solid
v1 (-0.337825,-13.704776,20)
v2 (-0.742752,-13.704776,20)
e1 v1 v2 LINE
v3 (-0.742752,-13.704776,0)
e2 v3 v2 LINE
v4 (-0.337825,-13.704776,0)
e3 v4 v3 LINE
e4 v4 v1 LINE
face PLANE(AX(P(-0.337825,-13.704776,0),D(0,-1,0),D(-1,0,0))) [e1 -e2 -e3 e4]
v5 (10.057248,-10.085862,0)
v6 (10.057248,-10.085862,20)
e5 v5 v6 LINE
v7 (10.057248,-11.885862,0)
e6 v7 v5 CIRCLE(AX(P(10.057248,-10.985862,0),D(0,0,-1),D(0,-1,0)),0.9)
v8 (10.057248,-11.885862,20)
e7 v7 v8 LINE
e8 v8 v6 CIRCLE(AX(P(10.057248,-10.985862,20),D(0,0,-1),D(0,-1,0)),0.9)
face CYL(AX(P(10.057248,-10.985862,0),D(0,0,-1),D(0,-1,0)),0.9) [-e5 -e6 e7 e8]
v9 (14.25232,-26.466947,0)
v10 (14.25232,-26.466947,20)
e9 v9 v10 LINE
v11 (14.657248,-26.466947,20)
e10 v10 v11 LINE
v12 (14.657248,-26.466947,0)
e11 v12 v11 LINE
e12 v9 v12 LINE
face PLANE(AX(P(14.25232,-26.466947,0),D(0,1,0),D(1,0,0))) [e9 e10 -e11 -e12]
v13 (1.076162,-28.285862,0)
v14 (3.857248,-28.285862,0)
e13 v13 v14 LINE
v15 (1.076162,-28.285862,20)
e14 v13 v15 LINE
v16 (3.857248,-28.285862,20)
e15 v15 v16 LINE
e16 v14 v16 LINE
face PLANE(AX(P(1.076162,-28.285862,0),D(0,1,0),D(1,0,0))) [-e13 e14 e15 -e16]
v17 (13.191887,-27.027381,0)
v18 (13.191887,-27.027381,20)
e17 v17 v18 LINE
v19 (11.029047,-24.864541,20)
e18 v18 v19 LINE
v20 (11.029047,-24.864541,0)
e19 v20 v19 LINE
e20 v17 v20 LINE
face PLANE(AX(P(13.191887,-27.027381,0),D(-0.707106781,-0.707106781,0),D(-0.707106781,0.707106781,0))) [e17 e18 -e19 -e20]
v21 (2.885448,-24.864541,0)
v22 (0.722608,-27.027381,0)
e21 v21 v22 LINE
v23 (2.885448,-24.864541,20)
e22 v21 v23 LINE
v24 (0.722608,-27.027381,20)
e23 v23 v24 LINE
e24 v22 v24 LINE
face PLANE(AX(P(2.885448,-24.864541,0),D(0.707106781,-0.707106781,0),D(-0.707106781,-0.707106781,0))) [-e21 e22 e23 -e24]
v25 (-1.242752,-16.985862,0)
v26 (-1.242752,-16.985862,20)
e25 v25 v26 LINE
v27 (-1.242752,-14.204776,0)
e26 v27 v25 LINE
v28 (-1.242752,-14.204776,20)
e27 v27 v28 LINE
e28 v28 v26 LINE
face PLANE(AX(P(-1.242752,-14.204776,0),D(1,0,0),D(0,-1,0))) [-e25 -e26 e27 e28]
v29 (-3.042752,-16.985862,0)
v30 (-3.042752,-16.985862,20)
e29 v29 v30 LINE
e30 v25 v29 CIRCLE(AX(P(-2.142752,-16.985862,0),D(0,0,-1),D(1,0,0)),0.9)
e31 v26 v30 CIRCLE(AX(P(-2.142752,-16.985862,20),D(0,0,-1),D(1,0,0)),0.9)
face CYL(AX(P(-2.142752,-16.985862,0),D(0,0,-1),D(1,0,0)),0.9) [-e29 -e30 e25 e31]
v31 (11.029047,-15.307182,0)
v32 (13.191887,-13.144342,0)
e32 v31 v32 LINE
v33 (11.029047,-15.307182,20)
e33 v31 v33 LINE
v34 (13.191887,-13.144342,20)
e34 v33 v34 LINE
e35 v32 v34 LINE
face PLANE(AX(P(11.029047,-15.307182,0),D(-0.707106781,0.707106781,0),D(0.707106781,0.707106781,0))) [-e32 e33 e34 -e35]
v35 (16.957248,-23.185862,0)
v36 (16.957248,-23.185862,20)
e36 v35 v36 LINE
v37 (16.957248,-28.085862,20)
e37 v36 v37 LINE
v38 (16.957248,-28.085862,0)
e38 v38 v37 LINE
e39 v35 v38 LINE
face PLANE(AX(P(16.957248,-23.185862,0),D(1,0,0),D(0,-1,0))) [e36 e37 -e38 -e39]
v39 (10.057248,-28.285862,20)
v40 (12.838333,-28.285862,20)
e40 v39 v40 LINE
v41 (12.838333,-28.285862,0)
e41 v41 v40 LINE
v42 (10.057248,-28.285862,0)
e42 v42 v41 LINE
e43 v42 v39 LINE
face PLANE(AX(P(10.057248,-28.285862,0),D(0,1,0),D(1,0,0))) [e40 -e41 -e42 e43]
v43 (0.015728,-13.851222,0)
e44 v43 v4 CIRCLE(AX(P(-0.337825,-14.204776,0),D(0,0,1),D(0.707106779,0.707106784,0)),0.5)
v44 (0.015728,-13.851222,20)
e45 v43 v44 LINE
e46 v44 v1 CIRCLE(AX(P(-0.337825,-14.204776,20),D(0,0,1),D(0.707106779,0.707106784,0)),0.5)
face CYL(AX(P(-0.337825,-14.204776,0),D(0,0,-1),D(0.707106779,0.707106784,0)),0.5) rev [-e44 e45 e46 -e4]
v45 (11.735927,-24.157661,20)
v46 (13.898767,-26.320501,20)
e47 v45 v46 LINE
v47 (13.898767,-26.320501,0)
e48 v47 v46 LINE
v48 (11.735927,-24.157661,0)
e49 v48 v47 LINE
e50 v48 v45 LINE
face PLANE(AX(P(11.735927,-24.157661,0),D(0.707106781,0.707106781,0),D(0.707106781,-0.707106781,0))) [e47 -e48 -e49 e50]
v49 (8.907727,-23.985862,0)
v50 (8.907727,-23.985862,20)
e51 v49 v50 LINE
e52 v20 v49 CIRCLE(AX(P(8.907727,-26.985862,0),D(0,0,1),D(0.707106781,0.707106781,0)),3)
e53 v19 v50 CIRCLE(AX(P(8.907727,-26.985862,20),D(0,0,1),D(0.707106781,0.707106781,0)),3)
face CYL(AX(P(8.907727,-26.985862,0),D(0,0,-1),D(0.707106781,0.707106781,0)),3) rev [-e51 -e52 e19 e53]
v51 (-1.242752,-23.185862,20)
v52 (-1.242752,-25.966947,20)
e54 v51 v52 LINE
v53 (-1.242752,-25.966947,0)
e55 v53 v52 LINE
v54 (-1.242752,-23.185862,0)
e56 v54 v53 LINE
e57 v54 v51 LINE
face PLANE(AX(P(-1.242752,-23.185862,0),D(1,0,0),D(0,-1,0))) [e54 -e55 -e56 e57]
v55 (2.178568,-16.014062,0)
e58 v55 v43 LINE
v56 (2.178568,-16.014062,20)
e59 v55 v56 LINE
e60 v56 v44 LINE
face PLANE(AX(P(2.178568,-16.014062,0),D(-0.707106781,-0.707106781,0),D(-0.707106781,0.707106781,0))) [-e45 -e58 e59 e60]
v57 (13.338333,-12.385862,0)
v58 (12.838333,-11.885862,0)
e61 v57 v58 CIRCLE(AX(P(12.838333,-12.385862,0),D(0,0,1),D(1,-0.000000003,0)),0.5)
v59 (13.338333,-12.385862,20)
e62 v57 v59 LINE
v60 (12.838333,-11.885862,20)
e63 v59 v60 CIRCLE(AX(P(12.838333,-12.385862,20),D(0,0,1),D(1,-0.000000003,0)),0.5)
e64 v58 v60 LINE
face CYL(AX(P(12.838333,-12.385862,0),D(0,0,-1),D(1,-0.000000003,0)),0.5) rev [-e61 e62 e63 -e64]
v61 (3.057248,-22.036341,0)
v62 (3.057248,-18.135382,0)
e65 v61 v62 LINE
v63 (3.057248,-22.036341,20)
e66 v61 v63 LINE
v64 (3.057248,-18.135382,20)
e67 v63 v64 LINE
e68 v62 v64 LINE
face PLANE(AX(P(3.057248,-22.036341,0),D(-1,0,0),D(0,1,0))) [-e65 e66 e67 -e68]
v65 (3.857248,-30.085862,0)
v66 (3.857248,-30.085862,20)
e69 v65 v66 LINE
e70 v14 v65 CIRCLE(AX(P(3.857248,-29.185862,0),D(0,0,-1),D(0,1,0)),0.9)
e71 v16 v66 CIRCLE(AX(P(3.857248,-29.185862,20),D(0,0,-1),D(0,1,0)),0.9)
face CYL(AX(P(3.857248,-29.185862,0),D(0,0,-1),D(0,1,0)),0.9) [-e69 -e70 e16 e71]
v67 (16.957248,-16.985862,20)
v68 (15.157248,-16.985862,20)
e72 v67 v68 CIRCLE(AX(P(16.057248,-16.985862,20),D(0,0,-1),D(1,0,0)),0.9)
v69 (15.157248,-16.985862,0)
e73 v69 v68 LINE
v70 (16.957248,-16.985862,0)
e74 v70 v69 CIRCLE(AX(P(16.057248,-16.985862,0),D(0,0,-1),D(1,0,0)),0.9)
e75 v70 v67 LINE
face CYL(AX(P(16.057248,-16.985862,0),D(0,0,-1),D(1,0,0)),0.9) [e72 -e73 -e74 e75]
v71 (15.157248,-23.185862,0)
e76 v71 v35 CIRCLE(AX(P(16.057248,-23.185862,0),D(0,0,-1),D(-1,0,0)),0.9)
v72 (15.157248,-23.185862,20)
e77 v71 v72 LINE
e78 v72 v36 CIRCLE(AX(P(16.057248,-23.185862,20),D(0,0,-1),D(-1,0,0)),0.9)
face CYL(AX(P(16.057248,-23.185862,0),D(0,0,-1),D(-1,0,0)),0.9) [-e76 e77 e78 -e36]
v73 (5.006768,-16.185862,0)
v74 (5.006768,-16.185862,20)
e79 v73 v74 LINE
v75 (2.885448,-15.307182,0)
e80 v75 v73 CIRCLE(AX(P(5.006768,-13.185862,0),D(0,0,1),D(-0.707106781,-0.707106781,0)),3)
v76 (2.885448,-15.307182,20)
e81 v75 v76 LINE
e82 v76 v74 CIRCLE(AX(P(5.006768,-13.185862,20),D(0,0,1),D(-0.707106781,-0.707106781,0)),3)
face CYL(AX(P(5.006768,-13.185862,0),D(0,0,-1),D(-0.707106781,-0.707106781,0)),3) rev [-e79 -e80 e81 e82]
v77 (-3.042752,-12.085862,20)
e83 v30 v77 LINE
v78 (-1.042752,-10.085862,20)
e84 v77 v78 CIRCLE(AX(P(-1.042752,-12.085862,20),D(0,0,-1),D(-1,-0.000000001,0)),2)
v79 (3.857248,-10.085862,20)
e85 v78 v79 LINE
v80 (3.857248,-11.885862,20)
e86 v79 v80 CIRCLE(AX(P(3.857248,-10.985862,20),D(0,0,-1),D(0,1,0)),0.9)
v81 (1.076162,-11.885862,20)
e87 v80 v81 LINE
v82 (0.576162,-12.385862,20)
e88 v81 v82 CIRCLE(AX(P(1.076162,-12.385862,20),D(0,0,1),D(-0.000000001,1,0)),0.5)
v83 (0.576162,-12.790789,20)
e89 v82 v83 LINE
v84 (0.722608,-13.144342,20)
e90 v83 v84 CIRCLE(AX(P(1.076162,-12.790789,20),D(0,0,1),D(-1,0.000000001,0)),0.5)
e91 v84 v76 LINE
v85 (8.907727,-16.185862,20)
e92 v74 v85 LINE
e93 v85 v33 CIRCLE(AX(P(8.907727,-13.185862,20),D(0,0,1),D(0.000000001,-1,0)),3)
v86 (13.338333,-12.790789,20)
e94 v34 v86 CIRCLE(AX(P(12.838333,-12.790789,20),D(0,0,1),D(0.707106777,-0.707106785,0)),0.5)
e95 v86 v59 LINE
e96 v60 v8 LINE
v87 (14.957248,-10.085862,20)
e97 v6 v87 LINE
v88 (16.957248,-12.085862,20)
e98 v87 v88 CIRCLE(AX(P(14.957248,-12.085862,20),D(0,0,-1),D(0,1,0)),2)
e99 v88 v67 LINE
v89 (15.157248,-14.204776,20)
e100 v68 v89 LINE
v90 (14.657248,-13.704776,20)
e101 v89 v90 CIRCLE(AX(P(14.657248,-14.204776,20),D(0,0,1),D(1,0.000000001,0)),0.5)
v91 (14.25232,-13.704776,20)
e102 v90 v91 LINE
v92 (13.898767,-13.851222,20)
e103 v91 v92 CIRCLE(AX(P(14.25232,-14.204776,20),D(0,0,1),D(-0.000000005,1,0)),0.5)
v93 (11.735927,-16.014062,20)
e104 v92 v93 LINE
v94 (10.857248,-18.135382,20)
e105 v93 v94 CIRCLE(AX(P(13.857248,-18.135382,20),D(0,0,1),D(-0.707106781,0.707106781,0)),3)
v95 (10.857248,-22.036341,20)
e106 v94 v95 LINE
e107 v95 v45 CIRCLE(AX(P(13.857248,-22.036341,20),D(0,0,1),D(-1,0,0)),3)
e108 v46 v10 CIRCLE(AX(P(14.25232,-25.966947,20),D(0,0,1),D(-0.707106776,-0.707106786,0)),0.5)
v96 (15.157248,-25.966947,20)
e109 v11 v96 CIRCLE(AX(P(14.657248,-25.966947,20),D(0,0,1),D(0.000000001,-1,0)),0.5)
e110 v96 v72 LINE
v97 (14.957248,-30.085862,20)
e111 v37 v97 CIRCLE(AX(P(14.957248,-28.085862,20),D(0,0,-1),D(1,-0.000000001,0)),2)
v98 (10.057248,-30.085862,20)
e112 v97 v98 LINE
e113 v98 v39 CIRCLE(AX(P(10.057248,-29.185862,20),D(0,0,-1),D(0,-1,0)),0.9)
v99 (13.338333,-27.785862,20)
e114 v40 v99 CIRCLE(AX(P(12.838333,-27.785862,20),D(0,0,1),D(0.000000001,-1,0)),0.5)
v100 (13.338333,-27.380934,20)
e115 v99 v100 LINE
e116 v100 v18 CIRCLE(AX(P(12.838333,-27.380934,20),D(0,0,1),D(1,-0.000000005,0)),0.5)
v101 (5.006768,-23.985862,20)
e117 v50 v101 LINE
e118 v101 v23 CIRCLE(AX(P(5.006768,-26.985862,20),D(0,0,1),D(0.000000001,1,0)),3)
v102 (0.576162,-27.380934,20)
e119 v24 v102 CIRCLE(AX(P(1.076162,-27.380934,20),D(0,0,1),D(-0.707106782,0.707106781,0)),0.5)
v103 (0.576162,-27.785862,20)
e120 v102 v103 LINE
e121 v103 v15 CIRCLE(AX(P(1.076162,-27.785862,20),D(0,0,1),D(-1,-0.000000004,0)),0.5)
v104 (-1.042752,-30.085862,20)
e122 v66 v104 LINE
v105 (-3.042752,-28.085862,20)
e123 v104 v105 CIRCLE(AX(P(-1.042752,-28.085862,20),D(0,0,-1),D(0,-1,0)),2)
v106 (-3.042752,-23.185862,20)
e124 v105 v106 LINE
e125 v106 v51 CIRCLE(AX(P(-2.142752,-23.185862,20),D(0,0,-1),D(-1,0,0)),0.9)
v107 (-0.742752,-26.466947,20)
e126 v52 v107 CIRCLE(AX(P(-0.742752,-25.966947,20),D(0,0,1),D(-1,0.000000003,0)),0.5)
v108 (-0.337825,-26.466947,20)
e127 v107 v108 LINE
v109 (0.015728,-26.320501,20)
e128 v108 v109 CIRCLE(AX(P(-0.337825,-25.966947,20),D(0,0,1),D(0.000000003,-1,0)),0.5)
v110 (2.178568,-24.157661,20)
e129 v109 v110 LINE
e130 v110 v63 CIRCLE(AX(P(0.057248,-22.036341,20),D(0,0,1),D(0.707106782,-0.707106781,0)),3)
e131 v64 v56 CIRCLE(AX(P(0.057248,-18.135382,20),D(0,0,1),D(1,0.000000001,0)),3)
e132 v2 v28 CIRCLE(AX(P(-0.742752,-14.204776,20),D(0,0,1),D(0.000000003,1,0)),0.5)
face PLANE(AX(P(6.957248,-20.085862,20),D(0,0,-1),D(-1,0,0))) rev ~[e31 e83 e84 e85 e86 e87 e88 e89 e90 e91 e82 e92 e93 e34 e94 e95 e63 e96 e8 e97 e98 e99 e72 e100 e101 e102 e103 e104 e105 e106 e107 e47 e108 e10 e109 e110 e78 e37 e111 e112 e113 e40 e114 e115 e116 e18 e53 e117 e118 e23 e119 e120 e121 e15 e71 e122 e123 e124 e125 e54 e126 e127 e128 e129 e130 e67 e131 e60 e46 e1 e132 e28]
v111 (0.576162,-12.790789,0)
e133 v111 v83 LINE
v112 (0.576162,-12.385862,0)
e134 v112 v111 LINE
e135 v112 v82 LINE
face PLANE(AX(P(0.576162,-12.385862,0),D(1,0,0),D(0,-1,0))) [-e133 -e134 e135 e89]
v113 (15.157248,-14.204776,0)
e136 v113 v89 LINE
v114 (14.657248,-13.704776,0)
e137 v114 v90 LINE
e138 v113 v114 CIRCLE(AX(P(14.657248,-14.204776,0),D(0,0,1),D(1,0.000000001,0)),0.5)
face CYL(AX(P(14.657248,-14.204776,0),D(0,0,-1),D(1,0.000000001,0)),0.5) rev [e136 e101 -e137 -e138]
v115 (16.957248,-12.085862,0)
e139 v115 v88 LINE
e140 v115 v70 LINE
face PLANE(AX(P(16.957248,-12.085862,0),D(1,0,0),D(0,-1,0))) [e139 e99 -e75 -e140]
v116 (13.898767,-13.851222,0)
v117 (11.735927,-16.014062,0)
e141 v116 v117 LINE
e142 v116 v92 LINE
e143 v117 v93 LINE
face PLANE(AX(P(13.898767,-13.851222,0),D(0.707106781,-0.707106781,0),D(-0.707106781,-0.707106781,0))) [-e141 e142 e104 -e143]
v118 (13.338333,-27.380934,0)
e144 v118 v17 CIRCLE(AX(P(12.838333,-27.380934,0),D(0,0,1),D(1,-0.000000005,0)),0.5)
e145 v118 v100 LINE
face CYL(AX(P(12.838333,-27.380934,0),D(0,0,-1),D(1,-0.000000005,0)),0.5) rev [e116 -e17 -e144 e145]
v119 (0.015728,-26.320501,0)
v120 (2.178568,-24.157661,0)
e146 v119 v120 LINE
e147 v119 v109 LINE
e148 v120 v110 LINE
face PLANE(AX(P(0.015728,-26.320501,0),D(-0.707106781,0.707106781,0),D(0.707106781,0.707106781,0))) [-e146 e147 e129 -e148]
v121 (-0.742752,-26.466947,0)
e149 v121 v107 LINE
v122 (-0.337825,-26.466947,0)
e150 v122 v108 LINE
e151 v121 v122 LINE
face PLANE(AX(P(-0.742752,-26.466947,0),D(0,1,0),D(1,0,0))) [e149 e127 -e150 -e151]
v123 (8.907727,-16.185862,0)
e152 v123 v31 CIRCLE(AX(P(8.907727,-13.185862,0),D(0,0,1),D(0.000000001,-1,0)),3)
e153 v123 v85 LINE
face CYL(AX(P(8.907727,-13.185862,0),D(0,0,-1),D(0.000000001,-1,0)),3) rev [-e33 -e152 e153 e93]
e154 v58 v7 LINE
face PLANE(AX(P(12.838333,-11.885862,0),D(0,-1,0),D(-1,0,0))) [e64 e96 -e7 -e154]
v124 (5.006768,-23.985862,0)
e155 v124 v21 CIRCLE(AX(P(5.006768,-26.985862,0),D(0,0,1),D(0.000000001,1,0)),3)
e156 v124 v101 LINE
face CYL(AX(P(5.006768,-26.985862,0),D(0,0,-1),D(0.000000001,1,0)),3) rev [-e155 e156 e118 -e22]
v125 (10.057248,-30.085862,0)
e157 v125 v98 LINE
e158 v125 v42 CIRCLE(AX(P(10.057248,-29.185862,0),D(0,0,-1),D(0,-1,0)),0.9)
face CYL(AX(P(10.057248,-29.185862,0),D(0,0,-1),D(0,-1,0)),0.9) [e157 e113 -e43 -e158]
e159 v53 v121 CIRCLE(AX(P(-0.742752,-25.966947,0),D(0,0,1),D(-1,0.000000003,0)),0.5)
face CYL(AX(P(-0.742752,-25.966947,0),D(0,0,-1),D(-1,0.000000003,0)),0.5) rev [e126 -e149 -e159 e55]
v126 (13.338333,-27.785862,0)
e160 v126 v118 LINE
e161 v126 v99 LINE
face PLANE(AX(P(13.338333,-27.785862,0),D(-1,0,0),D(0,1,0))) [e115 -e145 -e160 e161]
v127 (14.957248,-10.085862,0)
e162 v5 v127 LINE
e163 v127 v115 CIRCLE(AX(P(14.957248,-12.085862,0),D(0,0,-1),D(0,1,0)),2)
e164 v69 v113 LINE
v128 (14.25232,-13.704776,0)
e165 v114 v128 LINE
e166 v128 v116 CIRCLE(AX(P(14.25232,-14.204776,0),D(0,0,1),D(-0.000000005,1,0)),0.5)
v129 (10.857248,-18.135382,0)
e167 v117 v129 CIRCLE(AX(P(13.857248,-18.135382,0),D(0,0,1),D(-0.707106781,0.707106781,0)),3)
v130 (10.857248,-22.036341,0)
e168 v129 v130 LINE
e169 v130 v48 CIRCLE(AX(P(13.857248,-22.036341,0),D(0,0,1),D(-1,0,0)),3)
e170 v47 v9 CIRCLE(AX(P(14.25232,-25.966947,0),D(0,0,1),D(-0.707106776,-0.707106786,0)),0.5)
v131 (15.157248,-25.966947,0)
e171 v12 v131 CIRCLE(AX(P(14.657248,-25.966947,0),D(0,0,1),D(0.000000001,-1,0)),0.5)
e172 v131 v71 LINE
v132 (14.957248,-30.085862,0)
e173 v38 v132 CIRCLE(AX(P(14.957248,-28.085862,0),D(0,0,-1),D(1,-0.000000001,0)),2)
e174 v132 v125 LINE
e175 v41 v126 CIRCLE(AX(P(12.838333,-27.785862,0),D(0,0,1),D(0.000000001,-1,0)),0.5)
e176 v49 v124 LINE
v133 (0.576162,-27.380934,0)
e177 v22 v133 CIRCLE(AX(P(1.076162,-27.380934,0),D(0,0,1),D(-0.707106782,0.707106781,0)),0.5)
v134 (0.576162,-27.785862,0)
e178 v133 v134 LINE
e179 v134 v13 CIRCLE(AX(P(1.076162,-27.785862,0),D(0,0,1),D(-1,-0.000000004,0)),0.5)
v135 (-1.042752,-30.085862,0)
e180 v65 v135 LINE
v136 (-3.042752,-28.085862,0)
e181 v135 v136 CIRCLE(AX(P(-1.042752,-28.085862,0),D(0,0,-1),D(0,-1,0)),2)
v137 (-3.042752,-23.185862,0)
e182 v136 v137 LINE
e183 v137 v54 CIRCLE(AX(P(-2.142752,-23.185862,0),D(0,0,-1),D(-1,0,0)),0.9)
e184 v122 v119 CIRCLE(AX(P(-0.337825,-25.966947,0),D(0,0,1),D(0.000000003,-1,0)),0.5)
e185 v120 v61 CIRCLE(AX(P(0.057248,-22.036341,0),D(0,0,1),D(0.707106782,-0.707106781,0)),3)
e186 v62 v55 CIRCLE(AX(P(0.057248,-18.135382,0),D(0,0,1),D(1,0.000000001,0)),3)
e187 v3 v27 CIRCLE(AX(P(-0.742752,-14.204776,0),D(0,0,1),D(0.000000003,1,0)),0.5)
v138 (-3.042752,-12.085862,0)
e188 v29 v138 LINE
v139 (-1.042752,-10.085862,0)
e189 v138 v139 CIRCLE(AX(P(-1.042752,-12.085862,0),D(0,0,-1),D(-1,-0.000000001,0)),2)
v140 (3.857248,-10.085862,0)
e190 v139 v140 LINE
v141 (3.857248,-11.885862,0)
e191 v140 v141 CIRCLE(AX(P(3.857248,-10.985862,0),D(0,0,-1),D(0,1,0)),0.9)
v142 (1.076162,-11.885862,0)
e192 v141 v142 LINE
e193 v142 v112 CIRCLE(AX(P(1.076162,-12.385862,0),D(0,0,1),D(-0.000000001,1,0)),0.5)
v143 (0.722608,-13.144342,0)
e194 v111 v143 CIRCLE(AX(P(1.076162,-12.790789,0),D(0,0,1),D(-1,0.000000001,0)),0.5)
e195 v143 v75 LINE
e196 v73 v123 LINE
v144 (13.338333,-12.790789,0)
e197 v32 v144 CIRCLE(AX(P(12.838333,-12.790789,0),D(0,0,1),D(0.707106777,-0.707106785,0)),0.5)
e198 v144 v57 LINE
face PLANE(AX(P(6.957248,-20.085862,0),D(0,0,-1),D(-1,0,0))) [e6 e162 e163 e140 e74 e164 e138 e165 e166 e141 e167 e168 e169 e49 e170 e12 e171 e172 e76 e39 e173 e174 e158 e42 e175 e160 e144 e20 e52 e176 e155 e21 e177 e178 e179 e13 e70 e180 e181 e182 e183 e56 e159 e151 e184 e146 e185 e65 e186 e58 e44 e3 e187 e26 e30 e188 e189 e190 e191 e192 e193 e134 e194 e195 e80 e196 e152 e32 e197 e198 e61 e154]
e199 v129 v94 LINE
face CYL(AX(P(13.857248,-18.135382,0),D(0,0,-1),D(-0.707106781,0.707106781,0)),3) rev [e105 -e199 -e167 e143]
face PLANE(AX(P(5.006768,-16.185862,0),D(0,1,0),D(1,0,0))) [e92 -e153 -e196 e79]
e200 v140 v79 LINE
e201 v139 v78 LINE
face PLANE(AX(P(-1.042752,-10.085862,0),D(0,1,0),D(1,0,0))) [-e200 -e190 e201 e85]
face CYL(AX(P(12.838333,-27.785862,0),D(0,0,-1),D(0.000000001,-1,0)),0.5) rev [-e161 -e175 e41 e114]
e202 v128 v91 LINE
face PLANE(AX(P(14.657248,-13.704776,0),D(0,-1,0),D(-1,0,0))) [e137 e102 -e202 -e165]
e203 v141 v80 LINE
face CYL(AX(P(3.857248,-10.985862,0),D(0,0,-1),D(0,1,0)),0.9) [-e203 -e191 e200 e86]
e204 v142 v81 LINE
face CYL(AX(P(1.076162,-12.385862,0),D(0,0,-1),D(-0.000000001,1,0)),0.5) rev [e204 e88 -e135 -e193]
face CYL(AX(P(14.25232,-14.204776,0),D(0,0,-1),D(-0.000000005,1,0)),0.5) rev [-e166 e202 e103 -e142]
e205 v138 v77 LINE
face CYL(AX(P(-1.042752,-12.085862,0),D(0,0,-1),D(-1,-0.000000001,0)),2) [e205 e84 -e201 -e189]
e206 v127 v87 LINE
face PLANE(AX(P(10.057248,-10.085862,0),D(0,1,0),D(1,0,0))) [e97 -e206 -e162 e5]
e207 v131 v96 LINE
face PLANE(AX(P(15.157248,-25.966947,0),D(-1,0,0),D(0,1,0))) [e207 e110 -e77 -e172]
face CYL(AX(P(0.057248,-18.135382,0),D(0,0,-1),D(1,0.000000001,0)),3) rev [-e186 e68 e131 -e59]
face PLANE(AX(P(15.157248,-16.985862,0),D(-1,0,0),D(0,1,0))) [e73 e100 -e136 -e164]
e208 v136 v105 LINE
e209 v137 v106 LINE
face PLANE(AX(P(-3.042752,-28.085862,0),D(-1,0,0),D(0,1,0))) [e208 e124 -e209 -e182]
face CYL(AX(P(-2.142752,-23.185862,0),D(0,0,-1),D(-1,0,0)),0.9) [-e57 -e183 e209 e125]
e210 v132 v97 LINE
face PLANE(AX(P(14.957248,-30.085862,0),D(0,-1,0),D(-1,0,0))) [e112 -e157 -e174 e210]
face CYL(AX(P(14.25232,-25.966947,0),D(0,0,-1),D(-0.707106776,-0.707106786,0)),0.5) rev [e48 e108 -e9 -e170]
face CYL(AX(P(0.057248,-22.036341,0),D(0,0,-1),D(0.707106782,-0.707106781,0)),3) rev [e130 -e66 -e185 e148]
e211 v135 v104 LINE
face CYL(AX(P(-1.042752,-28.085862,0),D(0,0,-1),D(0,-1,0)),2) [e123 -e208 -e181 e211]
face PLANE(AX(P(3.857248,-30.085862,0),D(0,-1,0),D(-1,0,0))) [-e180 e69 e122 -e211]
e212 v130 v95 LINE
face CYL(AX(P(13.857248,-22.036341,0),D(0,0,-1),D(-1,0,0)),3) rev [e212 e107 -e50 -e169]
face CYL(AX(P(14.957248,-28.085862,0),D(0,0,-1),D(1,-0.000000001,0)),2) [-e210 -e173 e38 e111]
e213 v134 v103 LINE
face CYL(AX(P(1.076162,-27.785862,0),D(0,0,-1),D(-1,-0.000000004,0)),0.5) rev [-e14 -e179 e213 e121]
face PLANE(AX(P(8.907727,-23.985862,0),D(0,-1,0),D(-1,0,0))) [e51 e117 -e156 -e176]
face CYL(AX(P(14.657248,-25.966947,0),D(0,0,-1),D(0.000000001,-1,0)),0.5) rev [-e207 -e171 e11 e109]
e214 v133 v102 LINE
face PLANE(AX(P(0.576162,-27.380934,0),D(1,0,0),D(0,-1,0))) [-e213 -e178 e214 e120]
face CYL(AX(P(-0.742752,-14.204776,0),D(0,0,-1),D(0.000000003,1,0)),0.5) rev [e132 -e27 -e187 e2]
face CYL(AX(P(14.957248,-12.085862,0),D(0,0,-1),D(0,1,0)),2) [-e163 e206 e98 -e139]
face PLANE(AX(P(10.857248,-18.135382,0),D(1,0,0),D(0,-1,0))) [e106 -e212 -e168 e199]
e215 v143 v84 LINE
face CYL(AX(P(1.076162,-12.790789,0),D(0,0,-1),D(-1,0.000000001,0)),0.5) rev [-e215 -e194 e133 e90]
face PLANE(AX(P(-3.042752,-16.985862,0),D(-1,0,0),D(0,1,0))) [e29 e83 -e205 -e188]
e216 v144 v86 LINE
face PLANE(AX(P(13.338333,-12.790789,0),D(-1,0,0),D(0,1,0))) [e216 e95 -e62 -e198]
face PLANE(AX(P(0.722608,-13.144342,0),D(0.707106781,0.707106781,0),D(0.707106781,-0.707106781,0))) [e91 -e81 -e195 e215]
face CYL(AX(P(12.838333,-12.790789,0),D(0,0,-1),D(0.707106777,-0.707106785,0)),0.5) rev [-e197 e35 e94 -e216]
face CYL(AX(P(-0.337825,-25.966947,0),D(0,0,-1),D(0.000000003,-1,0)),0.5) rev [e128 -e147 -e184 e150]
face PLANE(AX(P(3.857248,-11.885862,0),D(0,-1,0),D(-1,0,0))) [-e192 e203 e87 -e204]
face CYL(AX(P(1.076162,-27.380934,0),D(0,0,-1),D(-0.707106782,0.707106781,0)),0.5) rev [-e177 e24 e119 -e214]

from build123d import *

# Parameters (mm, degrees)
EXTRUDE_1_DEPTH = 20


with BuildPart() as part:
    # 草图2 → 凸台-拉伸1 (new body)
    with BuildSketch(Plane.XY):
        with BuildLine():
            Line((-1.042752475, -10.085861632), (3.857247525, -10.085861632))
            ThreePointArc((3.857247525, -10.085861632), (4.757247525, -10.985861632), (3.857247525, -11.885861632))
            Line((3.857247525, -11.885861632), (1.076161722, -11.885861632))
            ThreePointArc((1.076161722, -11.885861632), (0.722608332, -12.032308241), (0.576161722, -12.385861632))
            Line((0.576161722, -12.385861632), (0.576161722, -12.790788968))
            ThreePointArc((0.576161722, -12.790788968), (0.614221956, -12.982130685), (0.722608332, -13.144342359))
            Line((0.722608332, -13.144342359), (2.885447948, -15.307181975))
            ThreePointArc((2.885447948, -15.307181975), (3.858717994, -15.957500229), (5.006768291, -16.185861632))
            Line((5.006768291, -16.185861632), (8.907726758, -16.185861632))
            ThreePointArc((8.907726758, -16.185861632), (10.055777055, -15.957500229), (11.029047102, -15.307181975))
            Line((11.029047102, -15.307181975), (13.191886718, -13.144342359))
            ThreePointArc((13.191886718, -13.144342359), (13.300273094, -12.982130685), (13.338333327, -12.790788968))
            Line((13.338333327, -12.790788968), (13.338333327, -12.385861632))
            ThreePointArc((13.338333327, -12.385861632), (13.191886718, -12.032308241), (12.838333327, -11.885861632))
            Line((12.838333327, -11.885861632), (10.057247525, -11.885861632))
            ThreePointArc((10.057247525, -11.885861632), (9.157247525, -10.985861632), (10.057247525, -10.085861632))
            Line((10.057247525, -10.085861632), (14.957247525, -10.085861632))
            ThreePointArc((14.957247525, -10.085861632), (16.371461087, -10.671648069), (16.957247525, -12.085861632))
            Line((16.957247525, -12.085861632), (16.957247525, -16.985861632))
            ThreePointArc((16.957247525, -16.985861632), (16.057247525, -17.885861632), (15.157247525, -16.985861632))
            Line((15.157247525, -16.985861632), (15.157247525, -14.204775829))
            ThreePointArc((15.157247525, -14.204775829), (15.010800915, -13.851222438), (14.657247525, -13.704775829))
            Line((14.657247525, -13.704775829), (14.252320188, -13.704775829))
            ThreePointArc((14.252320188, -13.704775829), (14.060978472, -13.742836063), (13.898766797, -13.851222438))
            Line((13.898766797, -13.851222438), (11.735927181, -16.014062054))
            ThreePointArc((11.735927181, -16.014062054), (11.085608927, -16.987332101), (10.857247525, -18.135382398))
            Line((10.857247525, -18.135382398), (10.857247525, -22.036340865))
            ThreePointArc((10.857247525, -22.036340865), (11.085608927, -23.184391162), (11.735927181, -24.157661209))
            Line((11.735927181, -24.157661209), (13.898766797, -26.320500825))
            ThreePointArc((13.898766797, -26.320500825), (14.060978472, -26.4288872), (14.252320188, -26.466947434))
            Line((14.252320188, -26.466947434), (14.657247525, -26.466947434))
            ThreePointArc((14.657247525, -26.466947434), (15.010800915, -26.320500825), (15.157247525, -25.966947434))
            Line((15.157247525, -25.966947434), (15.157247525, -23.185861632))
            ThreePointArc((15.157247525, -23.185861632), (16.057247525, -22.285861632), (16.957247525, -23.185861632))
            Line((16.957247525, -23.185861632), (16.957247525, -28.085861632))
            ThreePointArc((16.957247525, -28.085861632), (16.371461087, -29.500075194), (14.957247525, -30.085861632))
            Line((14.957247525, -30.085861632), (10.057247525, -30.085861632))
            ThreePointArc((10.057247525, -30.085861632), (9.157247525, -29.185861632), (10.057247525, -28.285861632))
            Line((10.057247525, -28.285861632), (12.838333327, -28.285861632))
            ThreePointArc((12.838333327, -28.285861632), (13.191886718, -28.139415022), (13.338333327, -27.785861632))
            Line((13.338333327, -27.785861632), (13.338333327, -27.380934295))
            ThreePointArc((13.338333327, -27.380934295), (13.300273094, -27.189592579), (13.191886718, -27.027380904))
            Line((13.191886718, -27.027380904), (11.029047102, -24.864541288))
            ThreePointArc((11.029047102, -24.864541288), (10.055777055, -24.214223034), (8.907726758, -23.985861632))
            Line((8.907726758, -23.985861632), (5.006768291, -23.985861632))
            ThreePointArc((5.006768291, -23.985861632), (3.858717994, -24.214223034), (2.885447948, -24.864541288))
            Line((2.885447948, -24.864541288), (0.722608332, -27.027380904))
            ThreePointArc((0.722608332, -27.027380904), (0.614221956, -27.189592579), (0.576161722, -27.380934295))
            Line((0.576161722, -27.380934295), (0.576161722, -27.785861632))
            ThreePointArc((0.576161722, -27.785861632), (0.722608332, -28.139415022), (1.076161722, -28.285861632))
            Line((1.076161722, -28.285861632), (3.857247525, -28.285861632))
            ThreePointArc((3.857247525, -28.285861632), (4.757247525, -29.185861632), (3.857247525, -30.085861632))
            Line((3.857247525, -30.085861632), (-1.042752475, -30.085861632))
            ThreePointArc((-1.042752475, -30.085861632), (-2.456966038, -29.500075194), (-3.042752475, -28.085861632))
            Line((-3.042752475, -28.085861632), (-3.042752475, -23.185861632))
            ThreePointArc((-3.042752475, -23.185861632), (-2.142752475, -22.285861632), (-1.242752475, -23.185861632))
            Line((-1.242752475, -23.185861632), (-1.242752475, -25.966947434))
            ThreePointArc((-1.242752475, -25.966947434), (-1.096305866, -26.320500825), (-0.742752475, -26.466947434))
            Line((-0.742752475, -26.466947434), (-0.337825138, -26.466947434))
            ThreePointArc((-0.337825138, -26.466947434), (-0.146483422, -26.4288872), (0.015728252, -26.320500825))
            Line((0.015728252, -26.320500825), (2.178567868, -24.157661209))
            ThreePointArc((2.178567868, -24.157661209), (2.828886122, -23.184391162), (3.057247525, -22.036340865))
            Line((3.057247525, -22.036340865), (3.057247525, -18.135382398))
            ThreePointArc((3.057247525, -18.135382398), (2.828886122, -16.987332101), (2.178567868, -16.014062054))
            Line((2.178567868, -16.014062054), (0.015728252, -13.851222438))
            ThreePointArc((0.015728252, -13.851222438), (-0.146483422, -13.742836063), (-0.337825138, -13.704775829))
            Line((-0.337825138, -13.704775829), (-0.742752475, -13.704775829))
            ThreePointArc((-0.742752475, -13.704775829), (-1.096305866, -13.851222438), (-1.242752475, -14.204775829))
            Line((-1.242752475, -14.204775829), (-1.242752475, -16.985861632))
            ThreePointArc((-1.242752475, -16.985861632), (-2.142752475, -17.885861632), (-3.042752475, -16.985861632))
            Line((-3.042752475, -16.985861632), (-3.042752475, -12.085861632))
            ThreePointArc((-3.042752475, -12.085861632), (-2.456966038, -10.671648069), (-1.042752475, -10.085861632))
        make_face()
    extrude(amount=EXTRUDE_1_DEPTH)


solid = part.part
